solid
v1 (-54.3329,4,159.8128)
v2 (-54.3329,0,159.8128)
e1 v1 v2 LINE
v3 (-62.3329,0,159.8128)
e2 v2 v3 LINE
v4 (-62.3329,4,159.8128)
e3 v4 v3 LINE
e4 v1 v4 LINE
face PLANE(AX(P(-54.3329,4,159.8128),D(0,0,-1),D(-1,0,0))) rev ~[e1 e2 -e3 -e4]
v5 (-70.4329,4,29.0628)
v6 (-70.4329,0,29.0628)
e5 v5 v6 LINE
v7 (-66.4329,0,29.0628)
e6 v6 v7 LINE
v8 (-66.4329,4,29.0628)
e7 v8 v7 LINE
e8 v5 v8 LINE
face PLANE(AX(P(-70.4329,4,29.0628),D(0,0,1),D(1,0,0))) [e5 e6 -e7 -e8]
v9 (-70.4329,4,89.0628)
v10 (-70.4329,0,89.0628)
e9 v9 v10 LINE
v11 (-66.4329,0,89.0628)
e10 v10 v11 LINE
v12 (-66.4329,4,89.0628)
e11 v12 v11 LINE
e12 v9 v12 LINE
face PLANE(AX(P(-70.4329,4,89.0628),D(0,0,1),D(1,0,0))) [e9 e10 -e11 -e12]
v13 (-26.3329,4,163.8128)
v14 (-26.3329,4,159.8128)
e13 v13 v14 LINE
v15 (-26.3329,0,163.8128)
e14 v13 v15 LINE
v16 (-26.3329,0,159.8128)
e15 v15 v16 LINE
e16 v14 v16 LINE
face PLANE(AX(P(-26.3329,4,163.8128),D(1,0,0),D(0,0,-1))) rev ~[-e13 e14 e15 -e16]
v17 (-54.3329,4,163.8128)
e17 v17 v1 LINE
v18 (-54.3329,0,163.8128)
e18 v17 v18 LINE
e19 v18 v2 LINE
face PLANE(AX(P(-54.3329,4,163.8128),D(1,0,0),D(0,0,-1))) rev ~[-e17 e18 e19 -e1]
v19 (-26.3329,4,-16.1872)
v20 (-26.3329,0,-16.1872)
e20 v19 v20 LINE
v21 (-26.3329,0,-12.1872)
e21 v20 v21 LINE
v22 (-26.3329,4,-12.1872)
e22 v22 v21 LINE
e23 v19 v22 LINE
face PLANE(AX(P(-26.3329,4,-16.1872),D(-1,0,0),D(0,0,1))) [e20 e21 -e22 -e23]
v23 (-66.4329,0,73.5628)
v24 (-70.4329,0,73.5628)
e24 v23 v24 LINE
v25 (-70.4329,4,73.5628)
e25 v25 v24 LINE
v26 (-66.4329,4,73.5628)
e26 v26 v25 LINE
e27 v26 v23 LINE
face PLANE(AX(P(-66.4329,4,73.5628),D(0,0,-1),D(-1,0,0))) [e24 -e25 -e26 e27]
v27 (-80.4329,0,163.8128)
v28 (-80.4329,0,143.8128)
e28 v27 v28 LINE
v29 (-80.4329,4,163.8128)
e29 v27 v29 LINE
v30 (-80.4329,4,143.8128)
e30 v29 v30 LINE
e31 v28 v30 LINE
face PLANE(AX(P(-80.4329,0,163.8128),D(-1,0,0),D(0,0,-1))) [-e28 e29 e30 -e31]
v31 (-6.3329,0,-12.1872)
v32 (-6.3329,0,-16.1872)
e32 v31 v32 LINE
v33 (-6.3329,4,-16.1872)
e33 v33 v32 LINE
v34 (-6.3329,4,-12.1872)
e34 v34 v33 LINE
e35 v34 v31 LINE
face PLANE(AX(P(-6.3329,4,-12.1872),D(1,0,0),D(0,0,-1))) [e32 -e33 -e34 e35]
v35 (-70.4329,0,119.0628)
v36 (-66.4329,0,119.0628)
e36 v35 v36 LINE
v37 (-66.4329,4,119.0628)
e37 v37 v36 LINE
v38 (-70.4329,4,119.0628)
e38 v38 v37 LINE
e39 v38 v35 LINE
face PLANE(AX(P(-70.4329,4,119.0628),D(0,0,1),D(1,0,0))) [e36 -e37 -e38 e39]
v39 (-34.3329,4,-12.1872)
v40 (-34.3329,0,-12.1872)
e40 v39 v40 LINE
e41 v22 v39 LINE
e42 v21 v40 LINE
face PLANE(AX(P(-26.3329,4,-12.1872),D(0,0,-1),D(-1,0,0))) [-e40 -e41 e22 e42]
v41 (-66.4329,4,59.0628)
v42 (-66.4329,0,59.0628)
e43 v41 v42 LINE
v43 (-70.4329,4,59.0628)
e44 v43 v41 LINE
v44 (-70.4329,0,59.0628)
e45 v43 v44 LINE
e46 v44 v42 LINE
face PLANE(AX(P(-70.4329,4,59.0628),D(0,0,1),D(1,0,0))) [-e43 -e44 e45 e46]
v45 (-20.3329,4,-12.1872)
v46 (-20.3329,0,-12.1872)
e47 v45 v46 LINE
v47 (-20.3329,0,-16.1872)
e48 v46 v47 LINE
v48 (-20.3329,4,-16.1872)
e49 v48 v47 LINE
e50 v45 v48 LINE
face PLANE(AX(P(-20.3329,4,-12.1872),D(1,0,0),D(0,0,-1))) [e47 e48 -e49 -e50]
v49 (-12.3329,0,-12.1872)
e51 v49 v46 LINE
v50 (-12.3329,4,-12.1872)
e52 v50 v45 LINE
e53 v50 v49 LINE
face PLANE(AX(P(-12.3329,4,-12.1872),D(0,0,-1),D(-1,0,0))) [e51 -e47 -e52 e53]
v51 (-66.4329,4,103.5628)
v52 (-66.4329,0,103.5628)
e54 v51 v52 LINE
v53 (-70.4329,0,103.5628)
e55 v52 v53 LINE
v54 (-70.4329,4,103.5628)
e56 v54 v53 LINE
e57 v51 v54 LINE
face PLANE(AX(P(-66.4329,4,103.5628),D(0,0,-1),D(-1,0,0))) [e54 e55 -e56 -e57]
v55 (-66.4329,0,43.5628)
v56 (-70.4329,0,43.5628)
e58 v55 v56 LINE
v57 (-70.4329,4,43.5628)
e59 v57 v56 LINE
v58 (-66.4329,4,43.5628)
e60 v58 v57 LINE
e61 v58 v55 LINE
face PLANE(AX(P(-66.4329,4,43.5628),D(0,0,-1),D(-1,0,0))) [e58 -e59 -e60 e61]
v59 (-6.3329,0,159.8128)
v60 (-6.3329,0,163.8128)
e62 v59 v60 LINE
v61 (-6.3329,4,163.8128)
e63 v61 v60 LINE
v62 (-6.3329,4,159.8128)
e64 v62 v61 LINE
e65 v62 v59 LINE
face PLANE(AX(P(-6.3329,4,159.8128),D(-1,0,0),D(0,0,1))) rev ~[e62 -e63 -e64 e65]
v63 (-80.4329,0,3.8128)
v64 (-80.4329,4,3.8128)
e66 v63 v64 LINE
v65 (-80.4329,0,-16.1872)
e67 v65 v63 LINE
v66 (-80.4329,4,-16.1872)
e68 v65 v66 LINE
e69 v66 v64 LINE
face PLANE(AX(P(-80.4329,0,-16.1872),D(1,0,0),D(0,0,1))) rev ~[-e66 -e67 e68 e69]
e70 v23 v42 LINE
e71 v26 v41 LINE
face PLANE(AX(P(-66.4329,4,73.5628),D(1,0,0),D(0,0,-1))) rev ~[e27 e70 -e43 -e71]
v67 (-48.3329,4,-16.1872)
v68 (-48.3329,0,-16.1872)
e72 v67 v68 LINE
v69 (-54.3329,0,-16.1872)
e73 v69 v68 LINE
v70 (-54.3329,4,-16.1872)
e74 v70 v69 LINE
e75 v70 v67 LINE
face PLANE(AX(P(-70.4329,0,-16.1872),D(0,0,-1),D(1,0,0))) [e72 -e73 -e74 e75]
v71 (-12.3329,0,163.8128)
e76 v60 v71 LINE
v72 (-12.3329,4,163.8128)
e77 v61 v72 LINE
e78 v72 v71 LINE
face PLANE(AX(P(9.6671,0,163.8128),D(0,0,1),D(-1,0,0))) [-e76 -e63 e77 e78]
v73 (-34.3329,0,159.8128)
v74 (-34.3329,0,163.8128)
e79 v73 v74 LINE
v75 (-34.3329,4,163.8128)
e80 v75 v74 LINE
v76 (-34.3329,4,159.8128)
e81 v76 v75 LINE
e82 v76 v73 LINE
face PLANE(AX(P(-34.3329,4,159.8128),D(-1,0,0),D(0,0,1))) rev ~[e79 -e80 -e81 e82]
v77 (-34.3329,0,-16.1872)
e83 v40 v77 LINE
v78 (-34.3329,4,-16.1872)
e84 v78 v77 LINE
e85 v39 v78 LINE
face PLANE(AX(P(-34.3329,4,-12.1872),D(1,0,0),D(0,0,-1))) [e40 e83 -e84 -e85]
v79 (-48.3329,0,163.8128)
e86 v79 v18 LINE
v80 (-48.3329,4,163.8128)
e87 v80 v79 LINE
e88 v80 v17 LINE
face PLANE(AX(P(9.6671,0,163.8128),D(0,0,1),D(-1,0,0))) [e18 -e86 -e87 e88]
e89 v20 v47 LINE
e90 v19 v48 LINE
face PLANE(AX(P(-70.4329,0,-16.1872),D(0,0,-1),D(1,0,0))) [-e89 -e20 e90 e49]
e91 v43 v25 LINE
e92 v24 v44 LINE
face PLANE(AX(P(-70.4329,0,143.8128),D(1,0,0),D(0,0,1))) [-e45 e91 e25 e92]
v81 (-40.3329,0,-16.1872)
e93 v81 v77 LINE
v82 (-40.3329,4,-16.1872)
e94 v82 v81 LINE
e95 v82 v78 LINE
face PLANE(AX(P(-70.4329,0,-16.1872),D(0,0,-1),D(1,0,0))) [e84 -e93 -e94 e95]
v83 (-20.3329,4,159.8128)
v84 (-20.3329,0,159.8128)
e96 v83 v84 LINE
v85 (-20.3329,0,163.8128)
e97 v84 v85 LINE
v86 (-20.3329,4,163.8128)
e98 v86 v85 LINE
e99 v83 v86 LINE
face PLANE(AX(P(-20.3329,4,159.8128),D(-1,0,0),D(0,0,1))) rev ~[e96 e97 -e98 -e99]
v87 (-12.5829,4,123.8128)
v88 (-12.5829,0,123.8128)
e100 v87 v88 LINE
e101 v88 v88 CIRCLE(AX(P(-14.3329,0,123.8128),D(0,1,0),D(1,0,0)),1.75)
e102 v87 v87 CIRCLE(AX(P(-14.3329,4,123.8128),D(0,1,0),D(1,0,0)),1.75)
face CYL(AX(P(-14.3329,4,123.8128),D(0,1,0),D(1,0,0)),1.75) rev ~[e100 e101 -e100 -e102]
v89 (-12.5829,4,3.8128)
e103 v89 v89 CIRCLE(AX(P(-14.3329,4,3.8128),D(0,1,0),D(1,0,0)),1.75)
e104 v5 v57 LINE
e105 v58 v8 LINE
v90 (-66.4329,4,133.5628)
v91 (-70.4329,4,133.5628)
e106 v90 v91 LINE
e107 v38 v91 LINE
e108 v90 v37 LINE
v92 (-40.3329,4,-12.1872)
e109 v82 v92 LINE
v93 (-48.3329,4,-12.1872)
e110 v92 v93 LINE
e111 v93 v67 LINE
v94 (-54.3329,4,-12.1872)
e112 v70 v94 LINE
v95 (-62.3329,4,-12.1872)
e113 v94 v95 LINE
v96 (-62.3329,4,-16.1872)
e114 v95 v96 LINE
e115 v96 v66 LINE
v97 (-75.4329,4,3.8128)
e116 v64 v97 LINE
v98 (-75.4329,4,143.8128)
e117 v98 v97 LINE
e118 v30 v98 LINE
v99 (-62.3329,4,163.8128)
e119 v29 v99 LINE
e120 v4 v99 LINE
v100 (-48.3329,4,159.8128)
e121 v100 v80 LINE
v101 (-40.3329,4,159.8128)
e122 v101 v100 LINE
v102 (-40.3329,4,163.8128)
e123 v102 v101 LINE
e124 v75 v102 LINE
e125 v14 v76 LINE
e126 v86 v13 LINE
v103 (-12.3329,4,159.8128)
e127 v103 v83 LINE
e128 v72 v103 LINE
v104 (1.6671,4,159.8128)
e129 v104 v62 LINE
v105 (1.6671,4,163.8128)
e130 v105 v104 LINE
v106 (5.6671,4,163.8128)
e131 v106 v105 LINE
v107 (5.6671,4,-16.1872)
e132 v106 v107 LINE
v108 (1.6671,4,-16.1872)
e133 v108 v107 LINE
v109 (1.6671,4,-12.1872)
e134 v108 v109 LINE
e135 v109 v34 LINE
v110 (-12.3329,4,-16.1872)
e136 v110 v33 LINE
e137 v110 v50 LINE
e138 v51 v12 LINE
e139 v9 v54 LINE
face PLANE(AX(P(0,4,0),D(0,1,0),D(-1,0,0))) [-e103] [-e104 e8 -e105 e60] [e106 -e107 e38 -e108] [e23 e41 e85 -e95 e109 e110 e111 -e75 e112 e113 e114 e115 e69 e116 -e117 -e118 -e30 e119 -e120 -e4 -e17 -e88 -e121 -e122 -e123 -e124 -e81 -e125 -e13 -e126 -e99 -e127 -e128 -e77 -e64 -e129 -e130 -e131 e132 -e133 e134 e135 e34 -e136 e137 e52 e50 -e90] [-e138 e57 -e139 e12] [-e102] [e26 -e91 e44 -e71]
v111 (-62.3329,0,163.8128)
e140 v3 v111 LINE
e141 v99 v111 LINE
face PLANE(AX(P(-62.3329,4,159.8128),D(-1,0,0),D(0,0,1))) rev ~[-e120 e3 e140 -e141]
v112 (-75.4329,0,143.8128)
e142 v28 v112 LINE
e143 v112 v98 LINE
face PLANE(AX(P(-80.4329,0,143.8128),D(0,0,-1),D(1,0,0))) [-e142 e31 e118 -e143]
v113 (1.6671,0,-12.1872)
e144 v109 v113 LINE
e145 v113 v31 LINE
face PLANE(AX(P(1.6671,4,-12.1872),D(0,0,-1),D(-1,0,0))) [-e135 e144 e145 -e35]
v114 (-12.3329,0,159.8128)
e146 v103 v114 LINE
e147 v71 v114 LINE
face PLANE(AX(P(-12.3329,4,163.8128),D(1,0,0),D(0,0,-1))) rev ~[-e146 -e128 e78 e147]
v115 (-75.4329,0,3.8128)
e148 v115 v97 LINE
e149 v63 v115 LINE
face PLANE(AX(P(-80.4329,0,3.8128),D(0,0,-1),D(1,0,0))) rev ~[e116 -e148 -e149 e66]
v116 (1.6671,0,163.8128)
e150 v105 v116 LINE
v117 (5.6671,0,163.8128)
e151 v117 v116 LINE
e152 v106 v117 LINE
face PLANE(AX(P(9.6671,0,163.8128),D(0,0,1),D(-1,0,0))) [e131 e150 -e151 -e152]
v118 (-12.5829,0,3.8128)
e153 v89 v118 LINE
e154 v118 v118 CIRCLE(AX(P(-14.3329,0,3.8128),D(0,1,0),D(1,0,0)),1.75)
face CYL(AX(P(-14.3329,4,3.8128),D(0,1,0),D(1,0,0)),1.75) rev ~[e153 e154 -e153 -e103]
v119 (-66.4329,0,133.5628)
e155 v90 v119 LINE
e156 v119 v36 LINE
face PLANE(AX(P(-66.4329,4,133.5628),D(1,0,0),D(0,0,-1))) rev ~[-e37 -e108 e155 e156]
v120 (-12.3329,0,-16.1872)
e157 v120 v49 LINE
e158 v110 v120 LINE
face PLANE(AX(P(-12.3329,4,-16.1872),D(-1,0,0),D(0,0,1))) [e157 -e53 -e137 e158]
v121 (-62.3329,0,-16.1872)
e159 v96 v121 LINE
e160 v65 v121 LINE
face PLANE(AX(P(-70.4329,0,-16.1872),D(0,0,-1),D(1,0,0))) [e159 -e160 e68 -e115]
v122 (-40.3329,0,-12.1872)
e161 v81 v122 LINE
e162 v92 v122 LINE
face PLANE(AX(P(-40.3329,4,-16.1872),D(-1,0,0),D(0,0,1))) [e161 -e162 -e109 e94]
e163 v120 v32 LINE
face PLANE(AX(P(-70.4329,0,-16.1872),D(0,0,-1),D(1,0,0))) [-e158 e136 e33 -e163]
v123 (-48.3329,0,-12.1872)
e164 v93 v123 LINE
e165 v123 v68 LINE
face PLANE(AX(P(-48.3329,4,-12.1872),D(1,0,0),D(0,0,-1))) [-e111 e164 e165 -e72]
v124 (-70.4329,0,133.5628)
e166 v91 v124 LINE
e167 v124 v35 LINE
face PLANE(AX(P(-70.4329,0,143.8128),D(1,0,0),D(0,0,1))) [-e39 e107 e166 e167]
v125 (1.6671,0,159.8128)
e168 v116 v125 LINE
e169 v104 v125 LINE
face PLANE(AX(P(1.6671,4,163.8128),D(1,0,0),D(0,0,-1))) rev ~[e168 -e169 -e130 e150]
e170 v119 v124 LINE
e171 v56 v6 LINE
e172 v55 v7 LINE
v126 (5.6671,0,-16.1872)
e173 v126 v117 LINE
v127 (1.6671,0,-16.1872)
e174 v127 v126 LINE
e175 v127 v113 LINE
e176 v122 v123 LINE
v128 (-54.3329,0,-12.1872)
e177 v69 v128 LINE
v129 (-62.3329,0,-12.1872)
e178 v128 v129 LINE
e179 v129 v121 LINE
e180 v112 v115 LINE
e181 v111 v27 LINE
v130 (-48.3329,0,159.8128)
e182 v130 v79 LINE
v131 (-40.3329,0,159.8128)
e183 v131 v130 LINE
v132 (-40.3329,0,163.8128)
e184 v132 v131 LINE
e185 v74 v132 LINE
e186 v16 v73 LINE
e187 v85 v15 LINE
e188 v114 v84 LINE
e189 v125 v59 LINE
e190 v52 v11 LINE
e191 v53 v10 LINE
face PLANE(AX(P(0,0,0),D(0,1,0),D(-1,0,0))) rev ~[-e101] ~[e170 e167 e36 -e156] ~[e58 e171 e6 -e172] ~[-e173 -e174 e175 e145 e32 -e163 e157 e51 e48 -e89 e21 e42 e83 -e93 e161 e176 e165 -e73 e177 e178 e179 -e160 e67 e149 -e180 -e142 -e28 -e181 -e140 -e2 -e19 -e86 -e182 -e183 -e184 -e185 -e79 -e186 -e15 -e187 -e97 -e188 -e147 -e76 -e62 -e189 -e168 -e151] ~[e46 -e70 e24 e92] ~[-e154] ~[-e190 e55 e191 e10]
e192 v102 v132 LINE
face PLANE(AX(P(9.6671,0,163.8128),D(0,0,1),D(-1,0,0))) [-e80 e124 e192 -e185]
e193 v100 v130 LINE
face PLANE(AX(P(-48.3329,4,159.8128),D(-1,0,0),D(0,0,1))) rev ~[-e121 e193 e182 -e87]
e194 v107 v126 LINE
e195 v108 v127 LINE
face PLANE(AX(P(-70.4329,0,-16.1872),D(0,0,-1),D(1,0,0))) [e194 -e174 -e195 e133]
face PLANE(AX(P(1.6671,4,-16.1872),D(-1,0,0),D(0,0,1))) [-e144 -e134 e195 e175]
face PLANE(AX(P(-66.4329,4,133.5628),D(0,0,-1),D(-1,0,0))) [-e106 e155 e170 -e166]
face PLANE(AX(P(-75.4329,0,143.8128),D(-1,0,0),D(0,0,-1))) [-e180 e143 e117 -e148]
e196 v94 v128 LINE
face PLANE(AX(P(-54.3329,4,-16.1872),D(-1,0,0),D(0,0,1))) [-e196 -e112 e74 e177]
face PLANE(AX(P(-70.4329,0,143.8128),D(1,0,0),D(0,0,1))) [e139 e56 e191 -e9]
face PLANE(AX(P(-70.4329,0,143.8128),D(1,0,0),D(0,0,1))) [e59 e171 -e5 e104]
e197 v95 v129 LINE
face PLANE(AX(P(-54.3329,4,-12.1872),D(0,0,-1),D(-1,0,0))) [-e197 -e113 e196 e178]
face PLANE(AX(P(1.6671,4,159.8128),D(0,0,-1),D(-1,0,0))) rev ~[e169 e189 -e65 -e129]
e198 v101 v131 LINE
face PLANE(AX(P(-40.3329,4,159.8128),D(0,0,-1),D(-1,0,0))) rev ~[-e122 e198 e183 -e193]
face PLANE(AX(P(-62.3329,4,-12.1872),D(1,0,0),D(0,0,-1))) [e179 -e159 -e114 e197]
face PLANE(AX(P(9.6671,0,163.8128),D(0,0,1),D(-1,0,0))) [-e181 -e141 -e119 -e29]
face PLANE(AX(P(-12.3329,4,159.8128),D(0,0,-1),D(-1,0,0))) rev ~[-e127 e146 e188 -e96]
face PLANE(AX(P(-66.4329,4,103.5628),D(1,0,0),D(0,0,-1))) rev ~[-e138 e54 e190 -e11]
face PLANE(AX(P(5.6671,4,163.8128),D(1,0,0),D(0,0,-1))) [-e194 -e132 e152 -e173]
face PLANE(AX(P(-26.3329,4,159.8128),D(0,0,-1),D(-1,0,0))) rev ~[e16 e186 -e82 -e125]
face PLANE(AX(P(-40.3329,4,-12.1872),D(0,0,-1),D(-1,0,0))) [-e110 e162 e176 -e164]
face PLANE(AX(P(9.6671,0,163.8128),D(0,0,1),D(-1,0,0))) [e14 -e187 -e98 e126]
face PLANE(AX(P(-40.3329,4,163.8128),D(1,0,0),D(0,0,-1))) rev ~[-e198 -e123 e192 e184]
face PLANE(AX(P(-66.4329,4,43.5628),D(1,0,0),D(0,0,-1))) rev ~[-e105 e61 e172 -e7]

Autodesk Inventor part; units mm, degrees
ref_plane "YZ Plane" through (0, 0, 0) normal (1, 0, 0) x (0, 1, 0)
ref_plane "XZ Plane" through (0, 0, 0) normal (0, 1, 0) x (-1, 0, 0)
ref_plane "XY Plane" through (0, 0, 0) normal (0, 0, 1) x (1, 0, 0)
sketch "Sketch1" plane through (0, 0, 0) normal (0, 1, 0) x (-1, 0, 0)
  line L0 (-9.6671, 163.8128) -> (70.4329, 163.8128)
  line L1 (70.4329, 163.8128) -> (70.4329, -16.1872)
  line L2 (70.4329, -16.1872) -> (-9.6671, -16.1872)
  line L3 (-9.6671, -16.1872) -> (-9.6671, 163.8128)
  point P0 (0, 0)
extrude "Extrusion1" add sketch "Sketch1" along normal blind 4
sketch "Sketch2" plane through (0, 4, 0) normal (0, 1, 0) x (1, 0, 0)
  line L0 (-66.4329, -159.8128) -> (-66.4329, -148.8128) projected
  line L1 (-70.4329, -159.8128) -> (-70.4329, -148.8128) projected
  line L2 (-66.4329, -159.8128) -> (-66.4329, -148.8128) projected
  line L3 (-70.4329, -159.8128) -> (-70.4329, -148.8128) projected
  line L4 (-66.4329, -159.8128) -> (-66.4329, -148.8128) projected
  line L5 (-70.4329, -159.8128) -> (-70.4329, -148.8128) projected
  line L6 (-66.4329, -159.8128) -> (-66.4329, -148.8128) projected
  line L7 (-70.4329, -159.8128) -> (-70.4329, -148.8128) projected
  line L8 (-66.4329, -159.8128) -> (-66.4329, -148.8128) projected
  line L9 (-70.4329, -159.8128) -> (-70.4329, -148.8128) projected
  line L10 (-66.4329, -159.8128) -> (-66.4329, -148.8128) projected
  line L11 (-70.4329, -159.8128) -> (-70.4329, -148.8128) projected
  line L12 (-70.4329, -163.8128) -> (9.6671, -163.8128) projected
  line L13 (-30.3829, -163.8128) -> (-30.3829, 16.1872) construction
  line L14 (9.6671, 16.1872) -> (-70.4329, 16.1872) projected
  line L15 (-70.4329, -149.0628) -> (-66.4329, -149.0628)
  line L16 (-66.4329, -159.5628) -> (-70.4329, -159.5628)
  line L17 (-70.4329, 0.9372) -> (-66.4329, 0.9372)
  line L18 (-66.4329, -13.5628) -> (-70.4329, -13.5628)
  line L19 (-66.4329, -43.5628) -> (-70.4329, -43.5628)
  line L20 (-70.4329, -29.0628) -> (-66.4329, -29.0628)
  line L21 (-66.4329, -73.5628) -> (-70.4329, -73.5628)
  line L22 (-70.4329, -59.0628) -> (-66.4329, -59.0628)
  line L23 (-66.4329, -103.5628) -> (-70.4329, -103.5628)
  line L24 (-70.4329, -89.0628) -> (-66.4329, -89.0628)
  line L25 (-66.4329, -133.5628) -> (-70.4329, -133.5628)
  line L26 (-70.4329, -119.0628) -> (-66.4329, -119.0628)
  line L27 (5.6671, -159.8128) -> (5.6671, -148.8128)
  line L28 (9.6671, -159.8128) -> (9.6671, -148.8128)
  line L29 (5.6671, -133.8128) -> (5.6671, -118.8128)
  line L30 (9.6671, -133.8128) -> (9.6671, -118.8128)
  line L31 (5.6671, -103.8128) -> (5.6671, -88.8128)
  line L32 (9.6671, -103.8128) -> (9.6671, -88.8128)
  line L33 (5.6671, -73.8128) -> (5.6671, -58.8128)
  line L34 (9.6671, -73.8128) -> (9.6671, -58.8128)
  line L35 (5.6671, -43.8128) -> (5.6671, -28.8128)
  line L36 (9.6671, -43.8128) -> (9.6671, -28.8128)
  line L37 (5.6671, -13.8128) -> (5.6671, 1.1872)
  line L38 (9.6671, -13.8128) -> (9.6671, 1.1872)
  line L39 (9.6671, -149.0628) -> (5.6671, -149.0628)
  line L40 (5.6671, -159.5628) -> (9.6671, -159.5628)
  line L41 (9.6671, 0.9372) -> (5.6671, 0.9372)
  line L42 (5.6671, -13.5628) -> (9.6671, -13.5628)
  line L43 (5.6671, -43.5628) -> (9.6671, -43.5628)
  line L44 (9.6671, -29.0628) -> (5.6671, -29.0628)
  line L45 (5.6671, -73.5628) -> (9.6671, -73.5628)
  line L46 (9.6671, -59.0628) -> (5.6671, -59.0628)
  line L47 (5.6671, -103.5628) -> (9.6671, -103.5628)
  line L48 (9.6671, -89.0628) -> (5.6671, -89.0628)
  line L49 (5.6671, -133.5628) -> (9.6671, -133.5628)
  line L50 (9.6671, -119.0628) -> (5.6671, -119.0628)
  line L51 (-66.4329, -148.8128) -> (-70.4329, -148.8128) projected
  line L52 (-66.4329, -159.8128) -> (-70.4329, -159.8128) projected
  line L53 (-66.4329, -148.8128) -> (-70.4329, -148.8128) projected
  line L54 (-66.4329, -159.8128) -> (-70.4329, -159.8128) projected
  line L55 (-66.4329, -148.8128) -> (-70.4329, -148.8128) projected
  line L56 (-66.4329, -159.8128) -> (-70.4329, -159.8128) projected
  line L57 (-66.4329, -148.8128) -> (-70.4329, -148.8128) projected
  line L58 (-66.4329, -159.8128) -> (-70.4329, -159.8128) projected
  line L59 (-66.4329, -148.8128) -> (-70.4329, -148.8128) projected
  line L60 (-66.4329, -159.8128) -> (-70.4329, -159.8128) projected
  line L61 (-66.4329, -148.8128) -> (-70.4329, -148.8128) projected
  line L62 (-66.4329, -159.8128) -> (-70.4329, -159.8128) projected
  line L63 (-66.4329, -133.5628) -> (-66.4329, -119.0628)
  line L64 (-66.4329, -103.5628) -> (-66.4329, -89.0628)
  line L65 (-66.4329, -73.5628) -> (-66.4329, -59.0628)
  line L66 (-66.4329, -43.5628) -> (-66.4329, -29.0628)
  line L67 (-66.4329, -13.5628) -> (-66.4329, 0.9372)
  line L68 (-70.4329, 16.1872) -> (-70.4329, -163.8128) projected
  line L69 (9.6671, -163.8128) -> (9.6671, 16.1872) projected
  line L70 (1.6671, 16.1872) -> (1.6671, 12.1872)
  line L71 (1.6671, 12.1872) -> (-6.3329, 12.1872)
  line L72 (-6.3329, 12.1872) -> (-6.3329, 16.1872)
  line L73 (-12.3329, 16.1872) -> (-12.3329, 12.1872)
  line L74 (-12.3329, 12.1872) -> (-20.3329, 12.1872)
  line L75 (-20.3329, 12.1872) -> (-20.3329, 16.1872)
  line L76 (-26.3329, 16.1872) -> (-26.3329, 12.1872)
  line L77 (-26.3329, 12.1872) -> (-34.3329, 12.1872)
  line L78 (-34.3329, 12.1872) -> (-34.3329, 16.1872)
  line L79 (-40.3329, 16.1872) -> (-40.3329, 12.1872)
  line L80 (-40.3329, 12.1872) -> (-48.3329, 12.1872)
  line L81 (-48.3329, 12.1872) -> (-48.3329, 16.1872)
  line L82 (-54.3329, 16.1872) -> (-54.3329, 12.1872)
  line L83 (-54.3329, 12.1872) -> (-62.3329, 12.1872)
  line L84 (-62.3329, 12.1872) -> (-62.3329, 16.1872)
  line L85 (-12.3329, -73.8128) -> (-48.4329, -73.8128) construction
  line L86 (1.6671, -163.8128) -> (1.6671, -159.8128)
  line L87 (1.6671, -159.8128) -> (-6.3329, -159.8128)
  line L88 (-6.3329, -159.8128) -> (-6.3329, -163.8128)
  line L89 (-12.3329, -163.8128) -> (-12.3329, -159.8128)
  line L90 (-12.3329, -159.8128) -> (-20.3329, -159.8128)
  line L91 (-20.3329, -159.8128) -> (-20.3329, -163.8128)
  line L92 (-26.3329, -163.8128) -> (-26.3329, -159.8128)
  line L93 (-26.3329, -159.8128) -> (-34.3329, -159.8128)
  line L94 (-34.3329, -159.8128) -> (-34.3329, -163.8128)
  line L95 (-40.3329, -163.8128) -> (-40.3329, -159.8128)
  line L96 (-40.3329, -159.8128) -> (-48.3329, -159.8128)
  line L97 (-48.3329, -159.8128) -> (-48.3329, -163.8128)
  line L98 (-54.3329, -163.8128) -> (-54.3329, -159.8128)
  line L99 (-54.3329, -159.8128) -> (-62.3329, -159.8128)
  line L100 (-62.3329, -159.8128) -> (-62.3329, -163.8128)
  line L101 (9.6671, 1.1872) -> (5.6671, 1.1872)
  line L102 (9.6671, -13.8128) -> (5.6671, -13.8128)
  line L103 (9.6671, -28.8128) -> (5.6671, -28.8128)
  line L104 (9.6671, -43.8128) -> (5.6671, -43.8128)
  line L105 (9.6671, -58.8128) -> (5.6671, -58.8128)
  line L106 (5.6671, -73.8128) -> (9.6671, -73.8128)
  line L107 (9.6671, -88.8128) -> (5.6671, -88.8128)
  line L108 (9.6671, -103.8128) -> (5.6671, -103.8128)
  line L109 (9.6671, -118.8128) -> (5.6671, -118.8128)
  line L110 (9.6671, -133.8128) -> (5.6671, -133.8128)
  line L111 (9.6671, -148.8128) -> (5.6671, -148.8128)
  line L112 (9.6671, -159.8128) -> (5.6671, -159.8128)
  circle A0 centre (-14.3329, -3.8128) radius 1.75
  circle A1 centre (-14.3329, -123.8128) radius 1.75
  line L113 (5.6671, -163.8128) -> (5.6671, 16.1872)
  point P0 (0, 0)
  point P1 (-30.3829, -73.8128)
  point P2 (5.6671, 1.1872)
  dimension "d6" = 30
  dimension "d13" = 4
  dimension "d14" = 8
  dimension "d15" = 4
  dimension "d16" = 8
  dimension "d19" = 14
  dimension "d24" = 180
  dimension "d30" = 3.5
  dimension "d31" = 40
  dimension "d32" = 20
  dimension "d33" = 24
extrude "Extrusion2" cut sketch "Sketch2" against normal up to surface (4 mm away) contours L16 L1 L15 L0 | L100 L99 L98 L12 | L68 L26 L63 L25 | L97 L96 L95 L12 | L68 L24 L64 L23 | L94 L93 L92 L12 | L68 L22 L65 L21 | L91 L90 L89 L12 | L68 L20 L66 L19 | L88 L87 L86 L12 | L68 L17 L67 L18 | L113 L112 L69 L12 | L27 L40 L28 L112 | L27 L39 L28 L40 | L14 L82 L83 L84 | L27 L111 L28 L39 | L113 L110 L69 L111 | L14 L79 L80 L81 | L29 L49 L30 L110 | L29 L50 L30 L49 | L14 L76 L77 L78 | L29 L109 L30 L50 | L113 L108 L69 L109 | L14 L73 L74 L75 | L31 L47 L32 L108 | L31 L48 L32 L47 | L14 L70 L71 L72 | L31 L107 L32 L48 | L113 L106 L69 L107 | L14 L69 L101 L113 | L33 L45 L34 L106 | L101 L38 L41 L37 | L33 L46 L34 L45 | L41 L38 L42 L37 | L33 L105 L34 L46 | L42 L38 L102 L37 | L113 L104 L69 L105 | L102 L69 L103 L113 | L35 L43 L36 L104 | L103 L36 L44 L35 | L35 L44 L36 L43 | A0 | A1
sketch "Sketch4" plane through (0, 0, 0) normal (0, -1, 0) x (1, 0, 0)
  line L0 (-66.4329, 149.0628) -> (-70.4329, 149.0628) projected
  line L1 (-70.4329, 159.5628) -> (-70.4329, 163.8128) projected
  line L2 (-66.4329, 149.0628) -> (-70.4329, 149.0628)
  line L3 (-70.4329, 143.8128) -> (-70.4329, 159.5628)
  line L4 (-70.4329, 159.5628) -> (-66.4329, 159.5628)
  line L5 (-66.4329, 159.5628) -> (-66.4329, 149.0628)
  line L6 (-70.4329, 163.8128) -> (-80.4329, 163.8128)
  line L7 (-80.4329, 163.8128) -> (-80.4329, 143.8128)
  line L8 (-80.4329, 143.8128) -> (-70.4329, 143.8128)
  line L9 (-70.4329, 143.8128) -> (-70.4329, 163.8128)
  line L10 (-70.4329, -16.1872) -> (-70.4329, -0.9372) projected
  line L11 (-66.4329, 13.5628) -> (-70.4329, 13.5628)
  line L12 (-70.4329, 133.5628) -> (-70.4329, -0.9372)
  line L13 (-70.4329, -0.9372) -> (-66.4329, -0.9372)
  line L14 (-66.4329, -0.9372) -> (-66.4329, 13.5628)
  line L15 (-70.4329, 13.5628) -> (-66.4329, 13.5628) projected
  line L16 (-70.4329, -16.1872) -> (-80.4329, -16.1872)
  line L17 (-80.4329, -16.1872) -> (-80.4329, 3.8128)
  line L18 (-80.4329, 3.8128) -> (-70.4329, 3.8128)
  line L19 (-70.4329, 3.8128) -> (-70.4329, -16.1872)
  line L20 (-75.4329, 143.8128) -> (-75.4329, 3.8128)
  line L21 (-40.3329, 163.8128) -> (-40.3329, 159.8128) projected
  line L22 (-40.3329, 159.8128) -> (-48.3329, 159.8128) projected
  line L23 (-48.3329, 159.8128) -> (-48.3329, 163.8128) projected
  line L24 (-54.3329, 163.8128) -> (-48.3329, 163.8128) projected
  line L25 (-54.3329, 163.8128) -> (-54.3329, 159.8128) projected
  line L26 (-54.3329, 159.8128) -> (-62.3329, 159.8128) projected
  line L27 (-62.3329, 159.8128) -> (-62.3329, 163.8128) projected
  line L28 (-70.4329, 163.8128) -> (-62.3329, 163.8128) projected
  line L29 (-70.4329, 159.5628) -> (-70.4329, 163.8128) projected
  line L30 (-70.4329, 159.5628) -> (-66.4329, 159.5628) projected
  line L31 (-66.4329, 159.5628) -> (-66.4329, 149.0628) projected
  line L32 (-66.4329, 149.0628) -> (-70.4329, 149.0628) projected
  line L33 (-70.4329, 133.5628) -> (-70.4329, 149.0628) projected
  line L34 (-70.4329, 133.5628) -> (-66.4329, 133.5628) projected
  line L35 (-66.4329, 133.5628) -> (-66.4329, 119.0628) projected
  line L36 (-66.4329, 119.0628) -> (-70.4329, 119.0628) projected
  line L37 (-70.4329, 103.5628) -> (-70.4329, 119.0628) projected
  line L38 (-70.4329, 103.5628) -> (-66.4329, 103.5628) projected
  line L39 (-66.4329, 103.5628) -> (-66.4329, 89.0628) projected
  line L40 (-66.4329, 89.0628) -> (-70.4329, 89.0628) projected
  line L41 (-70.4329, 73.5628) -> (-70.4329, 89.0628) projected
  line L42 (-70.4329, 73.5628) -> (-66.4329, 73.5628) projected
  line L43 (-66.4329, 73.5628) -> (-66.4329, 59.0628) projected
  line L44 (-66.4329, 59.0628) -> (-70.4329, 59.0628) projected
  line L45 (-70.4329, 43.5628) -> (-70.4329, 59.0628) projected
  line L46 (-70.4329, 43.5628) -> (-66.4329, 43.5628) projected
  line L47 (-66.4329, 43.5628) -> (-66.4329, 29.0628) projected
  line L48 (-66.4329, 29.0628) -> (-70.4329, 29.0628) projected
  line L49 (-70.4329, 13.5628) -> (-70.4329, 29.0628) projected
  line L50 (-70.4329, 13.5628) -> (-66.4329, 13.5628) projected
  line L51 (-66.4329, 13.5628) -> (-66.4329, -0.9372) projected
  line L52 (-66.4329, -0.9372) -> (-70.4329, -0.9372) projected
  line L53 (-70.4329, -16.1872) -> (-70.4329, -0.9372) projected
  line L54 (-62.3329, -16.1872) -> (-70.4329, -16.1872) projected
  line L55 (-62.3329, -16.1872) -> (-62.3329, -12.1872) projected
  line L56 (-62.3329, -12.1872) -> (-54.3329, -12.1872) projected
  line L57 (-54.3329, -12.1872) -> (-54.3329, -16.1872) projected
  line L58 (-48.3329, -16.1872) -> (-54.3329, -16.1872) projected
  line L59 (-48.3329, -16.1872) -> (-48.3329, -12.1872) projected
  line L60 (-48.3329, -12.1872) -> (-40.3329, -12.1872) projected
  line L61 (-40.3329, -12.1872) -> (-40.3329, -16.1872) projected
  line L62 (-34.3329, -16.1872) -> (-40.3329, -16.1872) projected
  line L63 (-34.3329, -16.1872) -> (-34.3329, -12.1872) projected
  line L64 (-34.3329, -12.1872) -> (-26.3329, -12.1872) projected
  line L65 (-26.3329, -12.1872) -> (-26.3329, -16.1872) projected
  line L66 (-20.3329, -16.1872) -> (-26.3329, -16.1872) projected
  line L67 (-20.3329, -16.1872) -> (-20.3329, -12.1872) projected
  line L68 (-20.3329, -12.1872) -> (-12.3329, -12.1872) projected
  line L69 (-12.3329, -12.1872) -> (-12.3329, -16.1872) projected
  line L70 (-6.3329, -16.1872) -> (-12.3329, -16.1872) projected
  line L71 (-6.3329, -16.1872) -> (-6.3329, -12.1872) projected
  line L72 (-6.3329, -12.1872) -> (1.6671, -12.1872) projected
  line L73 (1.6671, -12.1872) -> (1.6671, -16.1872) projected
  line L74 (5.6671, -16.1872) -> (1.6671, -16.1872) projected
  line L75 (1.6671, 163.8128) -> (5.6671, 163.8128) projected
  line L76 (1.6671, 163.8128) -> (1.6671, 159.8128) projected
  line L77 (1.6671, 159.8128) -> (-6.3329, 159.8128) projected
  line L78 (-6.3329, 159.8128) -> (-6.3329, 163.8128) projected
  line L79 (-12.3329, 163.8128) -> (-6.3329, 163.8128) projected
  line L80 (-12.3329, 163.8128) -> (-12.3329, 159.8128) projected
  line L81 (-12.3329, 159.8128) -> (-20.3329, 159.8128) projected
  line L82 (-20.3329, 159.8128) -> (-20.3329, 163.8128) projected
  line L83 (-26.3329, 163.8128) -> (-20.3329, 163.8128) projected
  line L84 (-26.3329, 163.8128) -> (-26.3329, 159.8128) projected
  line L85 (-26.3329, 159.8128) -> (-34.3329, 159.8128) projected
  line L86 (-34.3329, 159.8128) -> (-34.3329, 163.8128) projected
  line L87 (-40.3329, 163.8128) -> (-34.3329, 163.8128) projected
  line L88 (5.6671, -16.1872) -> (5.6671, 163.8128) projected
  point P0 (0, 0)
  dimension "d25" = 10
  dimension "d26" = 20
  dimension "d29" = 5
extrude "Extrusion3" add sketch "Sketch4" against normal up to surface (4 mm away) contours L0 L3 L4 L5 | L3 L8 L7 L6 L1 | L33 L12 L18 L20 L8 | L18 L12 L10 L16 L17 | L12 L11 L14 L13
properties part number "side"
